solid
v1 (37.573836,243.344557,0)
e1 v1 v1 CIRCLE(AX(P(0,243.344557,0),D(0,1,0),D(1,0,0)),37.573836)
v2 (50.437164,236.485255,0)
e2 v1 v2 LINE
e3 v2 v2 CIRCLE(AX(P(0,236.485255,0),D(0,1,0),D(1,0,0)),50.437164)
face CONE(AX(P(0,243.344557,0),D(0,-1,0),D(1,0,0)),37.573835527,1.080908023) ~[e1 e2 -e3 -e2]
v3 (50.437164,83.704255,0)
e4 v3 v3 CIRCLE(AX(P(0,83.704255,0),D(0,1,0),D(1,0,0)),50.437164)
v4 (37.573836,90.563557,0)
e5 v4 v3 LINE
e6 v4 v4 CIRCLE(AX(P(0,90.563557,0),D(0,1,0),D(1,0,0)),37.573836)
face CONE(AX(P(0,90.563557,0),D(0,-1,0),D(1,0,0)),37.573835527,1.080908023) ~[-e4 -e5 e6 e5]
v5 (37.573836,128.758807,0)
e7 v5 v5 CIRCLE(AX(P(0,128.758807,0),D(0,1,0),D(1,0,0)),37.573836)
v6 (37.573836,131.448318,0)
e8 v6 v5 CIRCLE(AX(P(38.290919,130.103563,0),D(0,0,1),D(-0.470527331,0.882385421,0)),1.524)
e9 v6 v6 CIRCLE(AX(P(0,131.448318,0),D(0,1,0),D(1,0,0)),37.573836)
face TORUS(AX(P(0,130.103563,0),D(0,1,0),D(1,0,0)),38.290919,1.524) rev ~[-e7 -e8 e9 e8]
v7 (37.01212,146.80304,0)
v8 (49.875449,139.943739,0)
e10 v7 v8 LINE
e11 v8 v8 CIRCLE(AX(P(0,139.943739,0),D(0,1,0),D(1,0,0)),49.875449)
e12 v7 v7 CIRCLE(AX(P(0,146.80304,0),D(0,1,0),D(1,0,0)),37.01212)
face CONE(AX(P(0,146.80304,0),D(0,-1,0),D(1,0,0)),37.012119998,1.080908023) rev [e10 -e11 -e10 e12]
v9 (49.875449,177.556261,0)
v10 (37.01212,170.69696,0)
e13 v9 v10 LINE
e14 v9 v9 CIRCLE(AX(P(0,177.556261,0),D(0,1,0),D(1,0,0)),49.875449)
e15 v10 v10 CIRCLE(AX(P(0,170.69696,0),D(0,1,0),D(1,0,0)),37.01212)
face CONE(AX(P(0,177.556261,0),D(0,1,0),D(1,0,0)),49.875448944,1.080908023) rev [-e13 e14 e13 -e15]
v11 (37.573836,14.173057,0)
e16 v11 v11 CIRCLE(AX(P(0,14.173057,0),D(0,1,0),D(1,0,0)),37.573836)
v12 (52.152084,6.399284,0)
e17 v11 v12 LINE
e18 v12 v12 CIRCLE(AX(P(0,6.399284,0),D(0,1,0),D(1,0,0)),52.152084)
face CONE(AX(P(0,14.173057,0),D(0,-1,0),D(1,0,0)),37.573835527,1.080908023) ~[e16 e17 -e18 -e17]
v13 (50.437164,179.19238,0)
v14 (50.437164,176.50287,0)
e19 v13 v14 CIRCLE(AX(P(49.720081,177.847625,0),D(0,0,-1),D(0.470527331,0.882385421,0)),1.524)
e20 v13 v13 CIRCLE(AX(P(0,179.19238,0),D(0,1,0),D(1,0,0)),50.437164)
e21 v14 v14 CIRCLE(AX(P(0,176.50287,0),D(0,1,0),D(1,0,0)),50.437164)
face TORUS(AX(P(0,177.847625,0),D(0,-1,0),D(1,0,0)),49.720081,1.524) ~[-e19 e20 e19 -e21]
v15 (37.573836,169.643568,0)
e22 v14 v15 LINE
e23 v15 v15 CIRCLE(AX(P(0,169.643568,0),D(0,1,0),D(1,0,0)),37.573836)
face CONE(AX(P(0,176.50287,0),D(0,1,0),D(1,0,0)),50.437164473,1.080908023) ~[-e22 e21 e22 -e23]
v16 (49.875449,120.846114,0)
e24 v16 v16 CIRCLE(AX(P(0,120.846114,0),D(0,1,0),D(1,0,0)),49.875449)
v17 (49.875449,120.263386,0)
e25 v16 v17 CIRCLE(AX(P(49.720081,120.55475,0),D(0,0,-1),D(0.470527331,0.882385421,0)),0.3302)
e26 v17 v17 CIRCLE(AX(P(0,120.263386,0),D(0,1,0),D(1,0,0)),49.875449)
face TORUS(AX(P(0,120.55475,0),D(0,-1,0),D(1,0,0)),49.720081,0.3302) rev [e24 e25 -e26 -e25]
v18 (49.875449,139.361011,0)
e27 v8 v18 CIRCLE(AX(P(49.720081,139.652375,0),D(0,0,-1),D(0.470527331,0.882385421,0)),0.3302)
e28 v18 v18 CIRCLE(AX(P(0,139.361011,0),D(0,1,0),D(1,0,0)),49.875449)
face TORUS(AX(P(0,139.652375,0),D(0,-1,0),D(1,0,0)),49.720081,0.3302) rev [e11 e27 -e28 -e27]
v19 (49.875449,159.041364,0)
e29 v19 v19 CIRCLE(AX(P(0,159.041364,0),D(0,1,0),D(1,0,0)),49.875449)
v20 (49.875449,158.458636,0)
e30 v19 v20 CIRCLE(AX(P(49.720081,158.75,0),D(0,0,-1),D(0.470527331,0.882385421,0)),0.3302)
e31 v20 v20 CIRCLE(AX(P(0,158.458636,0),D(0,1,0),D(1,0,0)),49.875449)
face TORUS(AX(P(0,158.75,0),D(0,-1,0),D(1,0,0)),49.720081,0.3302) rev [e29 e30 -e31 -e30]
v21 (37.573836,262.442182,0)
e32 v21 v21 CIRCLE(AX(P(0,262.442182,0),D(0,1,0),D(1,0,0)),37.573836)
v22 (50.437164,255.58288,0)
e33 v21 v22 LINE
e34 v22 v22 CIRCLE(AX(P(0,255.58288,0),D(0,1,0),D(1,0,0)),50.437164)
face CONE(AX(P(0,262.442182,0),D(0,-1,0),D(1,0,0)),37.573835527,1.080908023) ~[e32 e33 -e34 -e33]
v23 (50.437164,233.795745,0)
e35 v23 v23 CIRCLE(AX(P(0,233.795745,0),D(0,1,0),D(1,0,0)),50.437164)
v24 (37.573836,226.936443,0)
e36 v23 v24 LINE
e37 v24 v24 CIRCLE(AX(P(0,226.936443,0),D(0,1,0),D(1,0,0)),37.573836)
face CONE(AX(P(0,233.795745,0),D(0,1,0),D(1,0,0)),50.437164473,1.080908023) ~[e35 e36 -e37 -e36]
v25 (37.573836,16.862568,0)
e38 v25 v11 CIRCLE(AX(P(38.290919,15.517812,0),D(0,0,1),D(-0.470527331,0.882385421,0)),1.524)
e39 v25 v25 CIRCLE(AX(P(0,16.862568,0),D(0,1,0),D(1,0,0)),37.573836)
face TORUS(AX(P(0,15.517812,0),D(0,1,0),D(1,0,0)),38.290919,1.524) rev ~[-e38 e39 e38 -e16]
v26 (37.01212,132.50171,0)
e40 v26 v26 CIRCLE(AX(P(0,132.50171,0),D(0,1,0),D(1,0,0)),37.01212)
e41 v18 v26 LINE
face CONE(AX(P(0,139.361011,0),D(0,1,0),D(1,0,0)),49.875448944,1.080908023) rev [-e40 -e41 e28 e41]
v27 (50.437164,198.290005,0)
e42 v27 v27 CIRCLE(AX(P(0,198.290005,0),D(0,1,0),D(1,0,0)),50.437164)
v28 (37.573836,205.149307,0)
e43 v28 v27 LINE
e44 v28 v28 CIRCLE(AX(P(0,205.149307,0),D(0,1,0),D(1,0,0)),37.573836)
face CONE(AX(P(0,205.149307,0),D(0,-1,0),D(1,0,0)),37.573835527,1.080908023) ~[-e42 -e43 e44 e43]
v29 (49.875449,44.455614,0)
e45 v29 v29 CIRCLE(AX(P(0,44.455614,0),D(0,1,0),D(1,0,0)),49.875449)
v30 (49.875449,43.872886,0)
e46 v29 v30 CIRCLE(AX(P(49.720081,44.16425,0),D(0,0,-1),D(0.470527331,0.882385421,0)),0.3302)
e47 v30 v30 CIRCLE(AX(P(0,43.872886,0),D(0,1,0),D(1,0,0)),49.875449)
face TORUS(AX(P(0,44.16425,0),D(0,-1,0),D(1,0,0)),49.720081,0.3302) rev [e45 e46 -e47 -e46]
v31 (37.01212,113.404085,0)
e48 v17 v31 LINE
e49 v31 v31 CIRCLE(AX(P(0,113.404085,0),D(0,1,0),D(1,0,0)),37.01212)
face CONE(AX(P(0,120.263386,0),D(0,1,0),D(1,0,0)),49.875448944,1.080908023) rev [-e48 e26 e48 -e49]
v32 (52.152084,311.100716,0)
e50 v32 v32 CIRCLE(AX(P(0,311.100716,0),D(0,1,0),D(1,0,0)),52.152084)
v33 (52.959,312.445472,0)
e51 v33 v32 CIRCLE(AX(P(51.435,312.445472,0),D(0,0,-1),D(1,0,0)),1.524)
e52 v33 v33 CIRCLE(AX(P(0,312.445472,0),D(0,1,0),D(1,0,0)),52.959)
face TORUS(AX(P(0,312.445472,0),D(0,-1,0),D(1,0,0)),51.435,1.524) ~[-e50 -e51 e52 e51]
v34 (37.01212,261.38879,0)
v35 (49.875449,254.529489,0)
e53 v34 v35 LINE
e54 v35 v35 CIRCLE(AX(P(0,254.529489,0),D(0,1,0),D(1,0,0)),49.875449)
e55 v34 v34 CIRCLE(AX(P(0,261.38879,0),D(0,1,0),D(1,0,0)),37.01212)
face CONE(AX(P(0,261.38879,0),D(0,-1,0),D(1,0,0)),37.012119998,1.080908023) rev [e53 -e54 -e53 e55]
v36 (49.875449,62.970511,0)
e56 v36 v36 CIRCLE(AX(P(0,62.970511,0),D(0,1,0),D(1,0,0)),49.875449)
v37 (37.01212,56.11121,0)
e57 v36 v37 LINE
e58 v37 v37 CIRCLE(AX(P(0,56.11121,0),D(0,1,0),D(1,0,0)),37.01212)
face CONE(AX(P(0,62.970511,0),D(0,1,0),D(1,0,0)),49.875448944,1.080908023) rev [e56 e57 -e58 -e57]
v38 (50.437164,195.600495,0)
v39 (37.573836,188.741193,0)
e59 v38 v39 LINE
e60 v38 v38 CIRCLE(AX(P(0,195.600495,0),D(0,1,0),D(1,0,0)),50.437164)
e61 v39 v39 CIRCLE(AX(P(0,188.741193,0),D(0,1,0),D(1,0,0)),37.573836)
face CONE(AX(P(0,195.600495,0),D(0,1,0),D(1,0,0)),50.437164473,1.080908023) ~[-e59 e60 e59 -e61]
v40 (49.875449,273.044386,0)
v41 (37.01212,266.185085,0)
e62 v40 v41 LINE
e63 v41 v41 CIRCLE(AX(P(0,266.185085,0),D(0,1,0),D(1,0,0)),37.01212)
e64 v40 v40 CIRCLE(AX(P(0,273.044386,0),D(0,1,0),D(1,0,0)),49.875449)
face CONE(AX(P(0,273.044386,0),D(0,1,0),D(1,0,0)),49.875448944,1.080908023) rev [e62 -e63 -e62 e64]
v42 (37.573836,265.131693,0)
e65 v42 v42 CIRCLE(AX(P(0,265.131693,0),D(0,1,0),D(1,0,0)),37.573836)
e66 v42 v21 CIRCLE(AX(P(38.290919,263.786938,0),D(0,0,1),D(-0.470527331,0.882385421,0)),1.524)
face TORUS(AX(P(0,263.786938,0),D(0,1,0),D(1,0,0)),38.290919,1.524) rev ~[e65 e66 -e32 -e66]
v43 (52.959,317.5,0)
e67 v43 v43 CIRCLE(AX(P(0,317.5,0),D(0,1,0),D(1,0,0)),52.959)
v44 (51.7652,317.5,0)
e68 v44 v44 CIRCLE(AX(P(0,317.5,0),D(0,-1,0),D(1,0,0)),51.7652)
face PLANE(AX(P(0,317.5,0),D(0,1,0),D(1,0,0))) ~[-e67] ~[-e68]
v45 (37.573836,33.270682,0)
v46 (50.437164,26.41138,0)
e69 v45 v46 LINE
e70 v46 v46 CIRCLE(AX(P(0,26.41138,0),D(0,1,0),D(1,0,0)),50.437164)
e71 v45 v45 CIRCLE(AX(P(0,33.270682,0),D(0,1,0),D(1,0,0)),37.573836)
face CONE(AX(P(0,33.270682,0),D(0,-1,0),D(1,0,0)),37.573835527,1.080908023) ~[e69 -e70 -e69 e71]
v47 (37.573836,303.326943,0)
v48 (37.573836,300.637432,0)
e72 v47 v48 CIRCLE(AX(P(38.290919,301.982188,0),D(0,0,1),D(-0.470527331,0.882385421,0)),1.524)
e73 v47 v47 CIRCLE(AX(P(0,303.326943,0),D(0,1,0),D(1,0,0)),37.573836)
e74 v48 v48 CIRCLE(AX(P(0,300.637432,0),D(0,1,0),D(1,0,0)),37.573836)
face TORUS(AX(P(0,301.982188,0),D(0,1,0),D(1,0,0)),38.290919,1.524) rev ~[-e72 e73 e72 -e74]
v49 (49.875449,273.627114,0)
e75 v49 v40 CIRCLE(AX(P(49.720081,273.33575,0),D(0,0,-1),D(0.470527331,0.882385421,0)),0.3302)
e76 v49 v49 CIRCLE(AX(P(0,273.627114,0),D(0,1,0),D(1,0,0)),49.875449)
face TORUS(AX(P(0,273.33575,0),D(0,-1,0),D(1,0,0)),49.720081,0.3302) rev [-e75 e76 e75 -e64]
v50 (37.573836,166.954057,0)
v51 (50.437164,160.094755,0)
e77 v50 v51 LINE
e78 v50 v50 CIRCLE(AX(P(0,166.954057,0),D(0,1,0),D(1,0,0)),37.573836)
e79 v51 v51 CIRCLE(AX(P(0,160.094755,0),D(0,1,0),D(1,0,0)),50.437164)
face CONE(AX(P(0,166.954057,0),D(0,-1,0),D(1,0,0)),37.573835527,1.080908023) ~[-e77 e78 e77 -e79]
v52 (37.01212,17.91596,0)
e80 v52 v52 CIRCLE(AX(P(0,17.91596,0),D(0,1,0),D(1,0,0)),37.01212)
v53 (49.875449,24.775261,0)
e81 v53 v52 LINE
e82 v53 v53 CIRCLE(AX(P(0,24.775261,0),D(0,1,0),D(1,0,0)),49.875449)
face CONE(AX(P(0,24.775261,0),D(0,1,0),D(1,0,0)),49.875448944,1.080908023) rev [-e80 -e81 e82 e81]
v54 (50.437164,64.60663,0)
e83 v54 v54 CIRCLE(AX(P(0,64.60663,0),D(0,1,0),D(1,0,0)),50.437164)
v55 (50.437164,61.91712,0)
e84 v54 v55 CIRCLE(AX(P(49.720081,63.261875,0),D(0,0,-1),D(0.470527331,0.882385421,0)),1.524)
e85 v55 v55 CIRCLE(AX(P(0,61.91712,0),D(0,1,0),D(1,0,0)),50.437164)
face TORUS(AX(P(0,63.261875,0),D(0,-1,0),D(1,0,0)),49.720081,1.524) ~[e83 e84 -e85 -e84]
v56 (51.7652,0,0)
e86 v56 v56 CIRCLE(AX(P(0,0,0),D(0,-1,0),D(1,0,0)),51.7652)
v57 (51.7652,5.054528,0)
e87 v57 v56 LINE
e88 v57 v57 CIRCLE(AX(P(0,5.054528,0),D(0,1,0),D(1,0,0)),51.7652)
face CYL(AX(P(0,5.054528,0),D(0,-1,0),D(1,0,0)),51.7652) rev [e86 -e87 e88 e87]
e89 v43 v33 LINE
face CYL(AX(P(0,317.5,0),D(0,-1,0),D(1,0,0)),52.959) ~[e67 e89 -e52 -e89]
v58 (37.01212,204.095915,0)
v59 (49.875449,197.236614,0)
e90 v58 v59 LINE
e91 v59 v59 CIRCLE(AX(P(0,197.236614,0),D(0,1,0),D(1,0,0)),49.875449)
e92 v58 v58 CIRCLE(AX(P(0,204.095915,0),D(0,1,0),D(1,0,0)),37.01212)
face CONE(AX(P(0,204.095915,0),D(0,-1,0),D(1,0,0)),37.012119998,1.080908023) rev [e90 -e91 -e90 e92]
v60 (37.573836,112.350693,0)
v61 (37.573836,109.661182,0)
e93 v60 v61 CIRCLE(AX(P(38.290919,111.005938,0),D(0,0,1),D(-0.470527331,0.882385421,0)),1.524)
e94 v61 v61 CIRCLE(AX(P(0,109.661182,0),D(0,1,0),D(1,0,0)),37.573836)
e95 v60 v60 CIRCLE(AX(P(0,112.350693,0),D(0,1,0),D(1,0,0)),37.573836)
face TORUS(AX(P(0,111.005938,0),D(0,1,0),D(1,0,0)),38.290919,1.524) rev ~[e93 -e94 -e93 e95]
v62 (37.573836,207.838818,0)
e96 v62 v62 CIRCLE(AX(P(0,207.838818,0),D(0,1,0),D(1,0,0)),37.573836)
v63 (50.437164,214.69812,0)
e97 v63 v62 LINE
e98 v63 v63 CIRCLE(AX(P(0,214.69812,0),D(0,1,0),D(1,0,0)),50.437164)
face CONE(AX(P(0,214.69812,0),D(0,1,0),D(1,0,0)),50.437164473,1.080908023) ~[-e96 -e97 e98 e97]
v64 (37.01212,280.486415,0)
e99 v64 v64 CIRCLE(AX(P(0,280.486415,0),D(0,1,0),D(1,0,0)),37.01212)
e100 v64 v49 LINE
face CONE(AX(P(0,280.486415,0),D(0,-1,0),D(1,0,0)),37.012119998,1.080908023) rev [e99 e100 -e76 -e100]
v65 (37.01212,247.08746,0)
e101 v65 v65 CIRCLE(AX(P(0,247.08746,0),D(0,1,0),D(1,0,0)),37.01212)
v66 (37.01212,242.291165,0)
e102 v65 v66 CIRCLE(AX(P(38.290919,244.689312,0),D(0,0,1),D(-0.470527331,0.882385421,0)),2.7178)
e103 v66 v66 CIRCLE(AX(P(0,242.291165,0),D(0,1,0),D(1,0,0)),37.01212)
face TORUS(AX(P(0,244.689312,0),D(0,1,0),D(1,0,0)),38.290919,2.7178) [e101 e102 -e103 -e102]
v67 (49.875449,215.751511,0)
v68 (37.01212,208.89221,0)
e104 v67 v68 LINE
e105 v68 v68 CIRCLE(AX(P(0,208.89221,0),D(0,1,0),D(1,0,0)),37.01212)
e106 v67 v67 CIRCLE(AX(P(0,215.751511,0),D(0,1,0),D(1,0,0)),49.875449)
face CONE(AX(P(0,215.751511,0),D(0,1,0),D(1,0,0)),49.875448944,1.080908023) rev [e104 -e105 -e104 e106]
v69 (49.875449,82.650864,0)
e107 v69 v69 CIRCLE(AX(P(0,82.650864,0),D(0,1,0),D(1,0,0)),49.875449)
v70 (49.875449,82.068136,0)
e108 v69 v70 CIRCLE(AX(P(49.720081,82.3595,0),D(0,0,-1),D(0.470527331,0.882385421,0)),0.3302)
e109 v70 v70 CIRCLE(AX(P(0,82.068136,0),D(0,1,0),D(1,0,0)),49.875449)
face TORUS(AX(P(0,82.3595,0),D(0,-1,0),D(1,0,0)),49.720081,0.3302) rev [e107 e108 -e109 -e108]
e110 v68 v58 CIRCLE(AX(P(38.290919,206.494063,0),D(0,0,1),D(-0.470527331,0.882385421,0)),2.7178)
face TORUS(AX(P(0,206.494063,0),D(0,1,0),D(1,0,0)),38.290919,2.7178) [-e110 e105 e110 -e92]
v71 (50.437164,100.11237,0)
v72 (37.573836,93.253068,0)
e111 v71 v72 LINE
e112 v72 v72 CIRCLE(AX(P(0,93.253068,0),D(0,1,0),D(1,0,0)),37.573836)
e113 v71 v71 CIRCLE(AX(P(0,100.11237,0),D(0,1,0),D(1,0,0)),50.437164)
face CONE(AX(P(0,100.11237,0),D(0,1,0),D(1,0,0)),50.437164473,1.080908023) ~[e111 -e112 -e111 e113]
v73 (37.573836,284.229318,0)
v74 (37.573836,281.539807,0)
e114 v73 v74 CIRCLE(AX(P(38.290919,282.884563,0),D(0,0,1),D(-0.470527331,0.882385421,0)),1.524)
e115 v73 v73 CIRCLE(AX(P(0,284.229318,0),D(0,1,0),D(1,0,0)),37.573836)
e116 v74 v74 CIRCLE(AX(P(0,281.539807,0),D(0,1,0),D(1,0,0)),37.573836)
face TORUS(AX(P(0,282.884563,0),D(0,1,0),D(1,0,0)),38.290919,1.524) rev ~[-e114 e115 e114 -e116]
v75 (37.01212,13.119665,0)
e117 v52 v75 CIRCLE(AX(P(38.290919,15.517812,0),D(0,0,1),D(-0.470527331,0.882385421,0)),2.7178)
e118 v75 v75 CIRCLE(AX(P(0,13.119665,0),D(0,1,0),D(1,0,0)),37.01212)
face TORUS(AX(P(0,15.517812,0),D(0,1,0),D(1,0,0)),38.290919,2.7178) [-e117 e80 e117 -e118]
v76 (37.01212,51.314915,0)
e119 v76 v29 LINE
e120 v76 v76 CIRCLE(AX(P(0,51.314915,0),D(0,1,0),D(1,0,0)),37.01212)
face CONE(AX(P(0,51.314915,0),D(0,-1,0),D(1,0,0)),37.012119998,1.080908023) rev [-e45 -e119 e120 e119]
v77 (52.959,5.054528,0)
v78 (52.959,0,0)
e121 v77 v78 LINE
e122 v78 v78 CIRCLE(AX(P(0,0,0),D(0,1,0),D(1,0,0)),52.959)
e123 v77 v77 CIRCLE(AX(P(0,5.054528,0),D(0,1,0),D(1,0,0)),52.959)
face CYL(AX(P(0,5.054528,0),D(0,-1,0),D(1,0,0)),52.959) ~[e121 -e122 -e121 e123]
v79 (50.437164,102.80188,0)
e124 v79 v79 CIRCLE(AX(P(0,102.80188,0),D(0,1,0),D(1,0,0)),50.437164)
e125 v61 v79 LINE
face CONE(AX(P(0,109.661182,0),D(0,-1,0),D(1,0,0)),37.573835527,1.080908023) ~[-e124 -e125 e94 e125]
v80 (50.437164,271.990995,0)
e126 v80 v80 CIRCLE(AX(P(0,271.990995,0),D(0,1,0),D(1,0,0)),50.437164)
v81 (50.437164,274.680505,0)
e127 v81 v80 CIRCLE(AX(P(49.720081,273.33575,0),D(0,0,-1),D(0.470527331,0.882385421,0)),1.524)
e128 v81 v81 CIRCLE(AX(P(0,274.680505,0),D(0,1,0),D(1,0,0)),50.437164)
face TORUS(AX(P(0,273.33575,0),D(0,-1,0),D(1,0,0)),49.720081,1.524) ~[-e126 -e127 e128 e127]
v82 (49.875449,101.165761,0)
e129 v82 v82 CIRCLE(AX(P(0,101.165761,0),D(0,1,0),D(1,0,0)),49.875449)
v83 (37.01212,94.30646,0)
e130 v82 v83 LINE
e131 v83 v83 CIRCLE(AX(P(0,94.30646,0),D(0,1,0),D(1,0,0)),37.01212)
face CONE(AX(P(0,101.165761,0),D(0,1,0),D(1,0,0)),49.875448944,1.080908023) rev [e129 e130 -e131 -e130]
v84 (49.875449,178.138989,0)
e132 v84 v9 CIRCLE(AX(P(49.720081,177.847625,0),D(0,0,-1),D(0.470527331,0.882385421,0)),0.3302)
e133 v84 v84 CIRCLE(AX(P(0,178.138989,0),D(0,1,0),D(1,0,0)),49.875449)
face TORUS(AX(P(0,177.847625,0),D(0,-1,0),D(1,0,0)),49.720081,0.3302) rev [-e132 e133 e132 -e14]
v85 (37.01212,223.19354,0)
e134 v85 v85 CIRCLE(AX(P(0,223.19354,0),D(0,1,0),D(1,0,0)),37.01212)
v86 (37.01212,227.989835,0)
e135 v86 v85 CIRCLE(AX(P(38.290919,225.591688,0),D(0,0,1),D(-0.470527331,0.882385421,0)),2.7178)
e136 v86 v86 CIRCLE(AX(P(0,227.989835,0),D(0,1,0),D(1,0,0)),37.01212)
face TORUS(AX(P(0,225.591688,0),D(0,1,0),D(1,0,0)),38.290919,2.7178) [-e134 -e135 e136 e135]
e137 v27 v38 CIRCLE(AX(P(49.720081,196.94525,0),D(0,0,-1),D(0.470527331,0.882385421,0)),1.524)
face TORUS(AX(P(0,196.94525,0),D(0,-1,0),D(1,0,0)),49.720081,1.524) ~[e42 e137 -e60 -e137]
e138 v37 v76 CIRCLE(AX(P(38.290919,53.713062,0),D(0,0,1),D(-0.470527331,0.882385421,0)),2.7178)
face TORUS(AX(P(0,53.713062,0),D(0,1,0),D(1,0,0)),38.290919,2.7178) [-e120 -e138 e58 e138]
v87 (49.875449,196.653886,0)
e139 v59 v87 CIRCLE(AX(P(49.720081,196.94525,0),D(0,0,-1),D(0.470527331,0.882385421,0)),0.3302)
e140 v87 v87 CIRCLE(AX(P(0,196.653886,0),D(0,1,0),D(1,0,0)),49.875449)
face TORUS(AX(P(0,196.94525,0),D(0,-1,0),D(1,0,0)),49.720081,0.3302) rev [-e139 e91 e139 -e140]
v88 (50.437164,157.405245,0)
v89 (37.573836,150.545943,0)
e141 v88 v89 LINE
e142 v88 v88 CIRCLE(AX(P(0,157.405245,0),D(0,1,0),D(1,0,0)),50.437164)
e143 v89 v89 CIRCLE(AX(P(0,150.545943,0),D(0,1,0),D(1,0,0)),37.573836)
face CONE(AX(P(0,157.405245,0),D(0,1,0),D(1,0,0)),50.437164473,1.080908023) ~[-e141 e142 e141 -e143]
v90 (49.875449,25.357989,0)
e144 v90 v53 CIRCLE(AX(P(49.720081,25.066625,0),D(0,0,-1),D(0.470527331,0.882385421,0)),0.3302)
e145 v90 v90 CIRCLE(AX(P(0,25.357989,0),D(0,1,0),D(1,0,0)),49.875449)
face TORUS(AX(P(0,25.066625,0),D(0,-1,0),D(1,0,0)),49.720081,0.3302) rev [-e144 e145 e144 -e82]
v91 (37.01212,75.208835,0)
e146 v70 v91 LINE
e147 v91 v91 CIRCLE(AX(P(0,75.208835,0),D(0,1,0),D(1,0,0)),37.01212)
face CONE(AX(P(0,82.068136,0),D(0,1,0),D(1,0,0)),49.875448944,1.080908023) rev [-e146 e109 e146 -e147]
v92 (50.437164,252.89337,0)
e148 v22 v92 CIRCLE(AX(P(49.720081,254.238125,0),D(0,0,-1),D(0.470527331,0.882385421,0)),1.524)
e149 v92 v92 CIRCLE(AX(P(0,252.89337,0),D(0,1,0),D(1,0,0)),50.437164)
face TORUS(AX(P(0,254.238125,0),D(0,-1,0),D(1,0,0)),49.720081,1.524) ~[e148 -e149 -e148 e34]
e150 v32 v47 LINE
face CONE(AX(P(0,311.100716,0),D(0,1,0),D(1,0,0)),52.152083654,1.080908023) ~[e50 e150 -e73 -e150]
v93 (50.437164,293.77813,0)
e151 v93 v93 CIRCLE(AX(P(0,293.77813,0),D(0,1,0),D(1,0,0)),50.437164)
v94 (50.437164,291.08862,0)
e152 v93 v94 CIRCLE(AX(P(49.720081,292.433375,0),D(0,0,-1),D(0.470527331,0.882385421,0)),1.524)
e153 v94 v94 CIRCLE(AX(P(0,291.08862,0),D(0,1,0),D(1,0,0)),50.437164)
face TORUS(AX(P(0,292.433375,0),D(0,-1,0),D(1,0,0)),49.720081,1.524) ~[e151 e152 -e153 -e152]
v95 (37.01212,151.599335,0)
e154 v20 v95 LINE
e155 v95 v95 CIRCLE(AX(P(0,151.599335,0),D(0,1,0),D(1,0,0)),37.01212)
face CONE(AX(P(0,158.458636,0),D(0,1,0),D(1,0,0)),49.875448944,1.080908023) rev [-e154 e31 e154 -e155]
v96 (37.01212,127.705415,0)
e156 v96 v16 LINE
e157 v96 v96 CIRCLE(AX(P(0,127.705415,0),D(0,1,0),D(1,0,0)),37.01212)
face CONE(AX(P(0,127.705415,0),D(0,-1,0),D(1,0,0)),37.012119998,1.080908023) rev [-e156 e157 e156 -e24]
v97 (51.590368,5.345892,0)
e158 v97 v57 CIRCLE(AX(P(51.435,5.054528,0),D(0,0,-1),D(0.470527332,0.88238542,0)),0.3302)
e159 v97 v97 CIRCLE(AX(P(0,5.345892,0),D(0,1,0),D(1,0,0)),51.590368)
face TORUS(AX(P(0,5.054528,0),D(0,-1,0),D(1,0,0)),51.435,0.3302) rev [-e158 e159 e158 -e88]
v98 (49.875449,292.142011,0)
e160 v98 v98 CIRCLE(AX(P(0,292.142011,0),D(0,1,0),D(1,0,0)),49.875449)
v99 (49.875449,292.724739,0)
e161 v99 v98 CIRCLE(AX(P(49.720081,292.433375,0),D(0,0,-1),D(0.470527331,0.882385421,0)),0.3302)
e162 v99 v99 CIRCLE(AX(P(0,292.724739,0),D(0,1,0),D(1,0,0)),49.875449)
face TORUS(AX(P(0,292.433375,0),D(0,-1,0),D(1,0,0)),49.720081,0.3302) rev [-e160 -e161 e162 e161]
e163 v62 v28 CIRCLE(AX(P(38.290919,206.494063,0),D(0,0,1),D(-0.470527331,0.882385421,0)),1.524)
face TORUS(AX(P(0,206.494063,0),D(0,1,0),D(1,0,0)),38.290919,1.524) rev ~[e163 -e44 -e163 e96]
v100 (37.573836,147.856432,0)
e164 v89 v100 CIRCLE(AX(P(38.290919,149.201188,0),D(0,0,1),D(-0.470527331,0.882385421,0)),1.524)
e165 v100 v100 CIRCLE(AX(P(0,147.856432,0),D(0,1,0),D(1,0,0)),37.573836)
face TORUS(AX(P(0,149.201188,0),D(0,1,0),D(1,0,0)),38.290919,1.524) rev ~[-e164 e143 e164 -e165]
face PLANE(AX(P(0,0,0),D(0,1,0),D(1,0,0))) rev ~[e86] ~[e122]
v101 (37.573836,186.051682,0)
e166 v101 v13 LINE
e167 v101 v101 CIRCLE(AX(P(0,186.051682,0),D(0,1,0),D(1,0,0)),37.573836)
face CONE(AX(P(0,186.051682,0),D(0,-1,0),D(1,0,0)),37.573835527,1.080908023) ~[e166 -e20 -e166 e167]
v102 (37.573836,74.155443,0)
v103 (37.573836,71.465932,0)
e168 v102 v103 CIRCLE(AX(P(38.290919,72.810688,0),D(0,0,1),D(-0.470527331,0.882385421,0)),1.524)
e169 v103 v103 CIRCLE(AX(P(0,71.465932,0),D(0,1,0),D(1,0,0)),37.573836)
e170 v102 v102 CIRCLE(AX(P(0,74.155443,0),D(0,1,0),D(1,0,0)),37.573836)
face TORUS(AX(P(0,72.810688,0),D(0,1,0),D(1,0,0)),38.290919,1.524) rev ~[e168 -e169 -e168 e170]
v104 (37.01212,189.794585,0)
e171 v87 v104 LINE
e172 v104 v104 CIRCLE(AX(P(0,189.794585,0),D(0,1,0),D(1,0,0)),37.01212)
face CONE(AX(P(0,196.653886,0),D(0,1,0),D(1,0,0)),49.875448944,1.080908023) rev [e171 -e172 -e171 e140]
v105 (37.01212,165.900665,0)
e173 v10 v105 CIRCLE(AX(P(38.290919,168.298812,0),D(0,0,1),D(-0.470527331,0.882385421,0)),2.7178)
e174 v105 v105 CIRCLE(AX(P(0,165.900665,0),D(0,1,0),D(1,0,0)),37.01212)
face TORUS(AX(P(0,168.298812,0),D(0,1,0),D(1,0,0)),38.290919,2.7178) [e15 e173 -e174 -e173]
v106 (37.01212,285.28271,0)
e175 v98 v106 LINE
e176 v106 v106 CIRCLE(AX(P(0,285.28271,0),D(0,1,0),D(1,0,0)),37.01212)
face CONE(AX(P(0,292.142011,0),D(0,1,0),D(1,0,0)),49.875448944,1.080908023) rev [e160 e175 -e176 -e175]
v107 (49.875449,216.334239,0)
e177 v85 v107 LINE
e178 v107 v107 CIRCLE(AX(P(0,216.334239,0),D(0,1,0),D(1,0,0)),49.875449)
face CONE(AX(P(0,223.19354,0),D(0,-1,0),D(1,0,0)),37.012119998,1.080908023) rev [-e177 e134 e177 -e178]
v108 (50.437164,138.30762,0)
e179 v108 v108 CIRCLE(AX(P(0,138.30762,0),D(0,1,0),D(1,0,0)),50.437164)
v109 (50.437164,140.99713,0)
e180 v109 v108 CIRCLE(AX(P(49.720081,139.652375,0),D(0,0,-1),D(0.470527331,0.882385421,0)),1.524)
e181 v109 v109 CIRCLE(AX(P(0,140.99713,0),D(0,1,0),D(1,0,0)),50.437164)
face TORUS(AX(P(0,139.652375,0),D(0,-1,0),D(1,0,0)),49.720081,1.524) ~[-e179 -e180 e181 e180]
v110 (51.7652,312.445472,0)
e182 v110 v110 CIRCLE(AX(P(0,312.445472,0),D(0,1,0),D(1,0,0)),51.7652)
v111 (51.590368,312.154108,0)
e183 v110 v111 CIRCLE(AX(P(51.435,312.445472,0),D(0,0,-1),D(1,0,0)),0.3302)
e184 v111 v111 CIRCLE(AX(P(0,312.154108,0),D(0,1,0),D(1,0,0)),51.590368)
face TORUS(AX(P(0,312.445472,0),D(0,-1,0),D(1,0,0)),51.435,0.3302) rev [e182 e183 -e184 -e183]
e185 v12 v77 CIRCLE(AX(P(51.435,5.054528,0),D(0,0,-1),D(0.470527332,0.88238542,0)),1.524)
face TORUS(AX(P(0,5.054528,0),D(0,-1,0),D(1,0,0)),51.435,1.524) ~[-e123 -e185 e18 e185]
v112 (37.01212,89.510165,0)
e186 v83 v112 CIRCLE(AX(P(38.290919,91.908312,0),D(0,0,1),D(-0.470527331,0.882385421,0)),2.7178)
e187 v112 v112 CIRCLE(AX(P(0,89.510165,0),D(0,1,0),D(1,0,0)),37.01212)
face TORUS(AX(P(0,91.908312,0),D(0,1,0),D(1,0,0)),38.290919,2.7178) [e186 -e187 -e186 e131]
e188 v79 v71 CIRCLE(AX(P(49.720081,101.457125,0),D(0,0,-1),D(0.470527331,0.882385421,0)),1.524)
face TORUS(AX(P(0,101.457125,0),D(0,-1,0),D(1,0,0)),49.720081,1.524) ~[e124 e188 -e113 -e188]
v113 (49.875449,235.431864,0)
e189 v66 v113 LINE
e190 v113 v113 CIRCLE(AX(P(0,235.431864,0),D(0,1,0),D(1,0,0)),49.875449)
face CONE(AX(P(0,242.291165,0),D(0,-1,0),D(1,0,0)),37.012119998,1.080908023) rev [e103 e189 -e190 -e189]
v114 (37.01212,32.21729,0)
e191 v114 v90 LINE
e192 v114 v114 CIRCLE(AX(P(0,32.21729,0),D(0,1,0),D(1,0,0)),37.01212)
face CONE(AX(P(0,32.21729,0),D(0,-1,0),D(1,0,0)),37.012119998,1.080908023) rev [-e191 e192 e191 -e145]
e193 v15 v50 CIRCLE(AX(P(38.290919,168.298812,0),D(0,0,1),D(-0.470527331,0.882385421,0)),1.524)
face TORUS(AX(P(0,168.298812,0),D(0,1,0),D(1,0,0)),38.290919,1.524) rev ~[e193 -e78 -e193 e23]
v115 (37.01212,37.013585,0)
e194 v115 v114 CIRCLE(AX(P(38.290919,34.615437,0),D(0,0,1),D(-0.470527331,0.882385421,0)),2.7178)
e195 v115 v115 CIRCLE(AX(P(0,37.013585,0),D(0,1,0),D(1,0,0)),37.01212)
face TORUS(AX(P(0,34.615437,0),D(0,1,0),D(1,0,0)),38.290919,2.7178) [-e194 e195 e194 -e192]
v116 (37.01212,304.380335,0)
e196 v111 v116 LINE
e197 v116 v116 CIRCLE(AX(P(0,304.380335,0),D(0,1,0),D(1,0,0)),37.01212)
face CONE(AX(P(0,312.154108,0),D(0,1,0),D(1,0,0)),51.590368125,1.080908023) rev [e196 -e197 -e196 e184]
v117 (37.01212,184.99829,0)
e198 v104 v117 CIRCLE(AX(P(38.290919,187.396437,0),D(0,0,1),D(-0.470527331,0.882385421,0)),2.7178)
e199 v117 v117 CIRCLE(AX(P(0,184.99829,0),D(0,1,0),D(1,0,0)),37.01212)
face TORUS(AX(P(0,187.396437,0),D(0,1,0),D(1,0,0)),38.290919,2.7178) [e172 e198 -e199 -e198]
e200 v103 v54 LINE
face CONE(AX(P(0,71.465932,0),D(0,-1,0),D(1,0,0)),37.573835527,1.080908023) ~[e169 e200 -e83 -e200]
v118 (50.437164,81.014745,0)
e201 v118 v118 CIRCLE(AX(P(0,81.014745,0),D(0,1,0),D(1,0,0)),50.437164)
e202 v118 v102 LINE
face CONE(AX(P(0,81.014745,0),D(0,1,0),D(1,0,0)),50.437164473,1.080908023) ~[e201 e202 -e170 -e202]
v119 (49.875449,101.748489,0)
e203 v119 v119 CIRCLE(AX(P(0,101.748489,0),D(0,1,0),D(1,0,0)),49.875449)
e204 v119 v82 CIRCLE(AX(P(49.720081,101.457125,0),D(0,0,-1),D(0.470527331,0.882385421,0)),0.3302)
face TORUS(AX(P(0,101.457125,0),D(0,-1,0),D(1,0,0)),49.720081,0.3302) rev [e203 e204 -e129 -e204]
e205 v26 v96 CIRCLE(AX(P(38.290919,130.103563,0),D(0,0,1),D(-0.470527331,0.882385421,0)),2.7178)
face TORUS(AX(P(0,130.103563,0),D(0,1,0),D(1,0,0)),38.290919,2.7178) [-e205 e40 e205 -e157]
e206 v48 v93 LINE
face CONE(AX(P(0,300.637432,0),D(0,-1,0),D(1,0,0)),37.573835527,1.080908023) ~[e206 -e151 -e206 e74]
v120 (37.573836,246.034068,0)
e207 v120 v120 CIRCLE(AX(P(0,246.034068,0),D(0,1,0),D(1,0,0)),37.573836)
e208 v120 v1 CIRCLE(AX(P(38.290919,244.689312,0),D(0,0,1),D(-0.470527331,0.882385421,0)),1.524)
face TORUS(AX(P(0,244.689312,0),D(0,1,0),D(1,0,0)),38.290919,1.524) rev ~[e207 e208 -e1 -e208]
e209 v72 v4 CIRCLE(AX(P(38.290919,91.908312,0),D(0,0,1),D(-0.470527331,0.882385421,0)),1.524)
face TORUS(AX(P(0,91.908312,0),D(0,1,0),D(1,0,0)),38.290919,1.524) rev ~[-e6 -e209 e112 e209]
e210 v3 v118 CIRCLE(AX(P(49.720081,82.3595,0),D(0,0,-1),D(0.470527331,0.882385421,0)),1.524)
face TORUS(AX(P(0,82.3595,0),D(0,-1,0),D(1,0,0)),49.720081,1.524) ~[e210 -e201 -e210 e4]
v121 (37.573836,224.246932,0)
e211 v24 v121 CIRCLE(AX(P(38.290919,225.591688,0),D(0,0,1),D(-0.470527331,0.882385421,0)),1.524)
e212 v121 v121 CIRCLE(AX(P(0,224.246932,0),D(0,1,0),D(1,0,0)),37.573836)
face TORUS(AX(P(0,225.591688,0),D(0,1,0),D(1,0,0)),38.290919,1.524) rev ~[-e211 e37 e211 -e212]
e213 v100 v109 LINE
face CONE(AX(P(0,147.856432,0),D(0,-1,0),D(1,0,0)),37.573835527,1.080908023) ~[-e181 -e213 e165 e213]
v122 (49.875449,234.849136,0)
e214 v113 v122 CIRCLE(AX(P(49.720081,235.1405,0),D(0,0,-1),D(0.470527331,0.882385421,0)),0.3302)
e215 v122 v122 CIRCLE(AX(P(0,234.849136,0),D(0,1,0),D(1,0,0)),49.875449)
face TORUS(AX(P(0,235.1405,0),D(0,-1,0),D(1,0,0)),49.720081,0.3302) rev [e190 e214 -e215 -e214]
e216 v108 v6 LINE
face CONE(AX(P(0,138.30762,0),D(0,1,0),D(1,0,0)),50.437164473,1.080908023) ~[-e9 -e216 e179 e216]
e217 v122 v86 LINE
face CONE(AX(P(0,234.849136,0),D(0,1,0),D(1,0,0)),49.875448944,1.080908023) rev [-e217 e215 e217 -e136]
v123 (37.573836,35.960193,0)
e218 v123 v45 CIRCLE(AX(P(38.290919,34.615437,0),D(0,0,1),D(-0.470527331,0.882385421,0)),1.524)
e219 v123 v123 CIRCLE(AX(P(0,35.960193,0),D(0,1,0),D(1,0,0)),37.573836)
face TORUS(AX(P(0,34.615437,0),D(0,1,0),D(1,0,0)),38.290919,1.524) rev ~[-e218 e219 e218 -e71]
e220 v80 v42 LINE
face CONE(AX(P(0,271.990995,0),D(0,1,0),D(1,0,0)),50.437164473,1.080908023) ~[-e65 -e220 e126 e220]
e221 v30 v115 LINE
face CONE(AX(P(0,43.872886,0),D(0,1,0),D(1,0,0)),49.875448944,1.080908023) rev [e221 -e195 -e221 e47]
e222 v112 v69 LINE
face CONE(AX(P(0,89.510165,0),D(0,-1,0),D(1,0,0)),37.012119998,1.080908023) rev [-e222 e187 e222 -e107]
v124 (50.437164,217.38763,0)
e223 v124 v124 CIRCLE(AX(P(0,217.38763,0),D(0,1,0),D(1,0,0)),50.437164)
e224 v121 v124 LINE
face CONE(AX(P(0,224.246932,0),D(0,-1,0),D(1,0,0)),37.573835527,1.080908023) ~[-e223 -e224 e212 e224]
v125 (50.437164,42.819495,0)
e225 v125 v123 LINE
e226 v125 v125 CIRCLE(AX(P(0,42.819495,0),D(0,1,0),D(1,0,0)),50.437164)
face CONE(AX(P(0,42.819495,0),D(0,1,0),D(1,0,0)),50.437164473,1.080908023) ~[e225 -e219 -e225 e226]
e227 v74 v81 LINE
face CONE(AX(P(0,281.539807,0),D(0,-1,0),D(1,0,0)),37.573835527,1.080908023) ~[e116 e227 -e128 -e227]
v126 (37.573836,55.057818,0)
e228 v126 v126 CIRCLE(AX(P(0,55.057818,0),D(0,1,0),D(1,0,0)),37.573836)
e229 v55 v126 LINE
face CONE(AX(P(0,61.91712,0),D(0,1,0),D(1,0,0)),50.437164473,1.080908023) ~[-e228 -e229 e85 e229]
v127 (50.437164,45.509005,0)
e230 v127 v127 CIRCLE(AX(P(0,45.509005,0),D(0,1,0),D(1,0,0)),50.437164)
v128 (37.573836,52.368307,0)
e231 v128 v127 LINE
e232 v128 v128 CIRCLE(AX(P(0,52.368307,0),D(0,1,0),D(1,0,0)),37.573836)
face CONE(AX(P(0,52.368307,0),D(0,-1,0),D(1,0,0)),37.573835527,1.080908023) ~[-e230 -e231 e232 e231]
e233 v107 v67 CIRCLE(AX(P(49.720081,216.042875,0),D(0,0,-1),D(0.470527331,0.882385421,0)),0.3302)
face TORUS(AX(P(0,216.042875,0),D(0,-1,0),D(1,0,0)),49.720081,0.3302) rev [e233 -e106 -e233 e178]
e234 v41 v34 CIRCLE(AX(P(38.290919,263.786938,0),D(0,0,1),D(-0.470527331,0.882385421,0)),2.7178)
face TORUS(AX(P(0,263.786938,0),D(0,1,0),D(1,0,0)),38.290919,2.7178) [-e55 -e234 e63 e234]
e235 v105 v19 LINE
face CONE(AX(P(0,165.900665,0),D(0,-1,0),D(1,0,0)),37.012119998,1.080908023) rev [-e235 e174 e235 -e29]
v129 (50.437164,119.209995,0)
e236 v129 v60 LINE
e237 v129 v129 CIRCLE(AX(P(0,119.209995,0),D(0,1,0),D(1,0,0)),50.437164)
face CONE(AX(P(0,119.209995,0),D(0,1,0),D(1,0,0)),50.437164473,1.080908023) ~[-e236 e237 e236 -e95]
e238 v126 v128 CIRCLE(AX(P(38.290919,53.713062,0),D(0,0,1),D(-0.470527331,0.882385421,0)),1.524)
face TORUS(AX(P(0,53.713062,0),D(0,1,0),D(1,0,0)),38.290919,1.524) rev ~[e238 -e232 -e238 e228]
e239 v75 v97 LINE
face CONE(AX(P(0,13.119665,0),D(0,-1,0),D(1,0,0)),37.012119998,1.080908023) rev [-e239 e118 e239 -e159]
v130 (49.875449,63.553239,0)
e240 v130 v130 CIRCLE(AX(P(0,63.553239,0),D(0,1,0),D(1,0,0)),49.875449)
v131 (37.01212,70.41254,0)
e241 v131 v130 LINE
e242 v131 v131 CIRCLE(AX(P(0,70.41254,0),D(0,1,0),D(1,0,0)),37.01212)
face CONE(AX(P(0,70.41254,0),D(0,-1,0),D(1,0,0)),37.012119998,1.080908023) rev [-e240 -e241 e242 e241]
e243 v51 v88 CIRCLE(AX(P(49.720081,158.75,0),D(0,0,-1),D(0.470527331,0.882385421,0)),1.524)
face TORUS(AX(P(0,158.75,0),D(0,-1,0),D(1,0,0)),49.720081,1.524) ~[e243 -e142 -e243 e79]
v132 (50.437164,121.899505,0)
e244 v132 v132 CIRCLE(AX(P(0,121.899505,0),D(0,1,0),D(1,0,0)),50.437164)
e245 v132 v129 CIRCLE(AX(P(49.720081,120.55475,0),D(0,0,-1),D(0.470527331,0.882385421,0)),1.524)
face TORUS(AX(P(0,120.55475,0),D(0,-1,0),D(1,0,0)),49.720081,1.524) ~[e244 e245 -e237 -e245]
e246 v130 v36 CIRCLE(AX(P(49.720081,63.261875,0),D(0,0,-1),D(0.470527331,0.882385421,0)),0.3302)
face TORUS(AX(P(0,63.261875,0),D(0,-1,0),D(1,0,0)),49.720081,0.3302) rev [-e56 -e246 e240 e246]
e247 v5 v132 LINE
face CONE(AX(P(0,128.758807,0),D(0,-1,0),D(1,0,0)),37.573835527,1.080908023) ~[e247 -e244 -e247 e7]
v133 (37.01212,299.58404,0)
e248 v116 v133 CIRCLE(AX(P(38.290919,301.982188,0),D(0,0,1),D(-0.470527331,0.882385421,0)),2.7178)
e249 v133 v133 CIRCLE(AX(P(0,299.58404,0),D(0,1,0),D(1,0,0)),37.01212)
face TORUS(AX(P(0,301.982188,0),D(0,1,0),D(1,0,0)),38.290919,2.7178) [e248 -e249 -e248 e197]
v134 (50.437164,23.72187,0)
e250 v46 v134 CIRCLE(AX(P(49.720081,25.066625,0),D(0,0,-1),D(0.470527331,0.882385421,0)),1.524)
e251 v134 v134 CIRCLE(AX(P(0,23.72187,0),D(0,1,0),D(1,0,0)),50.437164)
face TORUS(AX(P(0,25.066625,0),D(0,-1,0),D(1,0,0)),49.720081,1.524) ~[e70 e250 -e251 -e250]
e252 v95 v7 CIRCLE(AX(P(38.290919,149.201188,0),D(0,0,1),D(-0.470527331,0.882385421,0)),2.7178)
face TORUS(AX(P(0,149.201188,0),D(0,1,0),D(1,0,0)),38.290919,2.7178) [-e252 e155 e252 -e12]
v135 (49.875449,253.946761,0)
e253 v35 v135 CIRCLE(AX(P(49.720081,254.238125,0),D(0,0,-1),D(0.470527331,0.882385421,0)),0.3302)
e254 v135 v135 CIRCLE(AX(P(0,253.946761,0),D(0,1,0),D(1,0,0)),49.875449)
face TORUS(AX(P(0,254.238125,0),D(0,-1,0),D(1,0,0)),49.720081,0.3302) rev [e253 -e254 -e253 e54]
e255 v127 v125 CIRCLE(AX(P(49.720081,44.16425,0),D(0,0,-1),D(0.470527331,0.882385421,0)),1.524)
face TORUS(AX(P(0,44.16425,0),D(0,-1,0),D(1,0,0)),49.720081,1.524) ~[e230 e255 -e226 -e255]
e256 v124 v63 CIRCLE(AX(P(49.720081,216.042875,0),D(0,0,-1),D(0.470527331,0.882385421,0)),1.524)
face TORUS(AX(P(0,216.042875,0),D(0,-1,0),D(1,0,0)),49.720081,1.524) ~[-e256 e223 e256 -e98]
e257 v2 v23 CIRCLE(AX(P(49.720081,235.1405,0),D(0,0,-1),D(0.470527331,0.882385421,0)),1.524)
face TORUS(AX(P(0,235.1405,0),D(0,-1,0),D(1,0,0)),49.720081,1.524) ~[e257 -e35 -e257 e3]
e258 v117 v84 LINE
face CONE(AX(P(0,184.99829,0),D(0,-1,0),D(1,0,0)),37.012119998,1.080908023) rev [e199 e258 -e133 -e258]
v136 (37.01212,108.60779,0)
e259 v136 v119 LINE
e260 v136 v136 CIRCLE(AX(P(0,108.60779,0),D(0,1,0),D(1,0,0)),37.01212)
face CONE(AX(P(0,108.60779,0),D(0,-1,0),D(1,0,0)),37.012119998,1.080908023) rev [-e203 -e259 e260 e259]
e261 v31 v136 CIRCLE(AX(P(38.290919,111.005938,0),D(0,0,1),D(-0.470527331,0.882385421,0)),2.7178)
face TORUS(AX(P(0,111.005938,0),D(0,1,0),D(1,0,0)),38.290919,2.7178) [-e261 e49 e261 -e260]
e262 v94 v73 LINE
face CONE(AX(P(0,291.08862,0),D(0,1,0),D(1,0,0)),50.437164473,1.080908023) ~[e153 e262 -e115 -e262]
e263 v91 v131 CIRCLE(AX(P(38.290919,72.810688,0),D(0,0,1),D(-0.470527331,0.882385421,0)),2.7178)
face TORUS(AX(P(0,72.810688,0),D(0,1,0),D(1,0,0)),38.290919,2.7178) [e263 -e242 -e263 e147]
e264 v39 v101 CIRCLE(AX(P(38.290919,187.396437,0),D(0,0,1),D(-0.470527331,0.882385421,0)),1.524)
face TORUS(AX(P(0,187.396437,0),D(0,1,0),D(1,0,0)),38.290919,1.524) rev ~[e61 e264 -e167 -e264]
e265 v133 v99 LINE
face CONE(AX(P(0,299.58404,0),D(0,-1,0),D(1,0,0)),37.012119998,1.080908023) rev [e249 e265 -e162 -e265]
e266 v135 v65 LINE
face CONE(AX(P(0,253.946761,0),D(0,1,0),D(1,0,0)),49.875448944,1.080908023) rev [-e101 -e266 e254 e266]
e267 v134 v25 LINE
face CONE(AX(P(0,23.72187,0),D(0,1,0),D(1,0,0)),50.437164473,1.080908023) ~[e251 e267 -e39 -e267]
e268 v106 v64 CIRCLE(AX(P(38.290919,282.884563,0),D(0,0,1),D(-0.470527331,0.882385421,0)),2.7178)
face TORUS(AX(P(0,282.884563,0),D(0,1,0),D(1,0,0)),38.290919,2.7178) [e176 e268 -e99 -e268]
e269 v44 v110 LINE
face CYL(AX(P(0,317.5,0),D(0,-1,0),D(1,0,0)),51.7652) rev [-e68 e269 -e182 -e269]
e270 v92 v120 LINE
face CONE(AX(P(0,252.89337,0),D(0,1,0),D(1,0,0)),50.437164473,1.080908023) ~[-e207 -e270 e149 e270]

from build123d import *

# Parameters (mm, degrees)
SHELL1_T = -1.1938


with BuildPart() as part:
    # Sketch1 → Revolve2 (revolve)
    with BuildSketch(Plane.XY):
        with BuildLine():
            Line((0, 0), (0, 317.5))
            Line((0, 317.5), (52.959, 317.5))
            Line((52.959, 317.5), (52.959, 312.445471531))
            ThreePointArc((52.959, 312.445471531), (52.741792158, 311.6613349), (52.152083654, 311.10071615))
            Line((52.152083654, 311.10071615), (37.573835527, 303.326942881))
            ThreePointArc((37.573835527, 303.326942881), (36.76691918, 301.9821875), (37.573835527, 300.637432119))
            Line((37.573835527, 300.637432119), (50.437164473, 293.778130381))
            ThreePointArc((50.437164473, 293.778130381), (51.24408082, 292.433375), (50.437164473, 291.088619619))
            Line((50.437164473, 291.088619619), (37.573835527, 284.229317881))
            ThreePointArc((37.573835527, 284.229317881), (36.76691918, 282.8845625), (37.573835527, 281.539807119))
            Line((37.573835527, 281.539807119), (50.437164473, 274.680505381))
            ThreePointArc((50.437164473, 274.680505381), (51.24408082, 273.33575), (50.437164473, 271.990994619))
            Line((50.437164473, 271.990994619), (37.573835527, 265.131692881))
            ThreePointArc((37.573835527, 265.131692881), (36.76691918, 263.7869375), (37.573835527, 262.442182119))
            Line((37.573835527, 262.442182119), (50.437164473, 255.582880381))
            ThreePointArc((50.437164473, 255.582880381), (51.24408082, 254.238125), (50.437164473, 252.893369619))
            Line((50.437164473, 252.893369619), (37.573835527, 246.034067881))
            ThreePointArc((37.573835527, 246.034067881), (36.76691918, 244.6893125), (37.573835527, 243.344557119))
            Line((37.573835527, 243.344557119), (50.437164473, 236.485255381))
            ThreePointArc((50.437164473, 236.485255381), (51.24408082, 235.1405), (50.437164473, 233.795744619))
            Line((50.437164473, 233.795744619), (37.573835527, 226.936442881))
            ThreePointArc((37.573835527, 226.936442881), (36.76691918, 225.5916875), (37.573835527, 224.246932119))
            Line((37.573835527, 224.246932119), (50.437164473, 217.387630381))
            ThreePointArc((50.437164473, 217.387630381), (51.24408082, 216.042875), (50.437164473, 214.698119619))
            Line((50.437164473, 214.698119619), (37.573835527, 207.838817881))
            ThreePointArc((37.573835527, 207.838817881), (36.76691918, 206.4940625), (37.573835527, 205.149307119))
            Line((37.573835527, 205.149307119), (50.437164473, 198.290005381))
            ThreePointArc((50.437164473, 198.290005381), (51.24408082, 196.94525), (50.437164473, 195.600494619))
            Line((50.437164473, 195.600494619), (37.573835527, 188.741192881))
            ThreePointArc((37.573835527, 188.741192881), (36.76691918, 187.3964375), (37.573835527, 186.051682119))
            Line((37.573835527, 186.051682119), (50.437164473, 179.192380381))
            ThreePointArc((50.437164473, 179.192380381), (51.24408082, 177.847625), (50.437164473, 176.502869619))
            Line((50.437164473, 176.502869619), (37.573835527, 169.643567881))
            ThreePointArc((37.573835527, 169.643567881), (36.76691918, 168.2988125), (37.573835527, 166.954057119))
            Line((37.573835527, 166.954057119), (50.437164473, 160.094755381))
            ThreePointArc((50.437164473, 160.094755381), (51.24408082, 158.75), (50.437164473, 157.405244619))
            Line((50.437164473, 157.405244619), (37.573835527, 150.545942881))
            ThreePointArc((37.573835527, 150.545942881), (36.76691918, 149.2011875), (37.573835527, 147.856432119))
            Line((37.573835527, 147.856432119), (50.437164473, 140.997130381))
            ThreePointArc((50.437164473, 140.997130381), (51.24408082, 139.652375), (50.437164473, 138.307619619))
            Line((50.437164473, 138.307619619), (37.573835527, 131.448317881))
            ThreePointArc((37.573835527, 131.448317881), (36.76691918, 130.1035625), (37.573835527, 128.758807119))
            Line((37.573835527, 128.758807119), (50.437164473, 121.899505381))
            ThreePointArc((50.437164473, 121.899505381), (51.24408082, 120.55475), (50.437164473, 119.209994619))
            Line((50.437164473, 119.209994619), (37.573835527, 112.350692881))
            ThreePointArc((37.573835527, 112.350692881), (36.76691918, 111.0059375), (37.573835527, 109.661182119))
            Line((37.573835527, 109.661182119), (50.437164473, 102.801880381))
            ThreePointArc((50.437164473, 102.801880381), (51.24408082, 101.457125), (50.437164473, 100.112369619))
            Line((50.437164473, 100.112369619), (37.573835527, 93.253067881))
            ThreePointArc((37.573835527, 93.253067881), (36.76691918, 91.9083125), (37.573835527, 90.563557119))
            Line((37.573835527, 90.563557119), (50.437164473, 83.704255381))
            ThreePointArc((50.437164473, 83.704255381), (51.24408082, 82.3595), (50.437164473, 81.014744619))
            Line((50.437164473, 81.014744619), (37.573835527, 74.155442881))
            ThreePointArc((37.573835527, 74.155442881), (36.76691918, 72.8106875), (37.573835527, 71.465932119))
            Line((37.573835527, 71.465932119), (50.437164473, 64.606630381))
            ThreePointArc((50.437164473, 64.606630381), (51.24408082, 63.261875), (50.437164473, 61.917119619))
            Line((50.437164473, 61.917119619), (37.573835527, 55.057817881))
            ThreePointArc((37.573835527, 55.057817881), (36.76691918, 53.7130625), (37.573835527, 52.368307119))
            Line((37.573835527, 52.368307119), (50.437164473, 45.509005381))
            ThreePointArc((50.437164473, 45.509005381), (51.24408082, 44.16425), (50.437164473, 42.819494619))
            Line((50.437164473, 42.819494619), (37.573835527, 35.960192881))
            ThreePointArc((37.573835527, 35.960192881), (36.76691918, 34.6154375), (37.573835527, 33.270682119))
            Line((37.573835527, 33.270682119), (50.437164473, 26.411380381))
            ThreePointArc((50.437164473, 26.411380381), (51.24408082, 25.066625), (50.437164473, 23.721869619))
            Line((50.437164473, 23.721869619), (37.573835527, 16.862567881))
            ThreePointArc((37.573835527, 16.862567881), (36.76691918, 15.5178125), (37.573835527, 14.173057119))
            Line((37.573835527, 14.173057119), (52.152083654, 6.39928385))
            ThreePointArc((52.152083654, 6.39928385), (52.741792158, 5.8386651), (52.959, 5.054528469))
            Line((52.959, 5.054528469), (52.959, 0))
            Line((52.959, 0), (0, 0))
        make_face()
    revolve(axis=Axis((0, 0, 0), (0, 1, 0)))

    # Shell1
    shell1_openings = [part.faces().sort_by_distance(p)[0] for p in [
        (0, 317.5, 0),
        (0, 0, 0),
    ]]
    offset(amount=SHELL1_T, openings=shell1_openings, kind=Kind.INTERSECTION)


solid = part.part
